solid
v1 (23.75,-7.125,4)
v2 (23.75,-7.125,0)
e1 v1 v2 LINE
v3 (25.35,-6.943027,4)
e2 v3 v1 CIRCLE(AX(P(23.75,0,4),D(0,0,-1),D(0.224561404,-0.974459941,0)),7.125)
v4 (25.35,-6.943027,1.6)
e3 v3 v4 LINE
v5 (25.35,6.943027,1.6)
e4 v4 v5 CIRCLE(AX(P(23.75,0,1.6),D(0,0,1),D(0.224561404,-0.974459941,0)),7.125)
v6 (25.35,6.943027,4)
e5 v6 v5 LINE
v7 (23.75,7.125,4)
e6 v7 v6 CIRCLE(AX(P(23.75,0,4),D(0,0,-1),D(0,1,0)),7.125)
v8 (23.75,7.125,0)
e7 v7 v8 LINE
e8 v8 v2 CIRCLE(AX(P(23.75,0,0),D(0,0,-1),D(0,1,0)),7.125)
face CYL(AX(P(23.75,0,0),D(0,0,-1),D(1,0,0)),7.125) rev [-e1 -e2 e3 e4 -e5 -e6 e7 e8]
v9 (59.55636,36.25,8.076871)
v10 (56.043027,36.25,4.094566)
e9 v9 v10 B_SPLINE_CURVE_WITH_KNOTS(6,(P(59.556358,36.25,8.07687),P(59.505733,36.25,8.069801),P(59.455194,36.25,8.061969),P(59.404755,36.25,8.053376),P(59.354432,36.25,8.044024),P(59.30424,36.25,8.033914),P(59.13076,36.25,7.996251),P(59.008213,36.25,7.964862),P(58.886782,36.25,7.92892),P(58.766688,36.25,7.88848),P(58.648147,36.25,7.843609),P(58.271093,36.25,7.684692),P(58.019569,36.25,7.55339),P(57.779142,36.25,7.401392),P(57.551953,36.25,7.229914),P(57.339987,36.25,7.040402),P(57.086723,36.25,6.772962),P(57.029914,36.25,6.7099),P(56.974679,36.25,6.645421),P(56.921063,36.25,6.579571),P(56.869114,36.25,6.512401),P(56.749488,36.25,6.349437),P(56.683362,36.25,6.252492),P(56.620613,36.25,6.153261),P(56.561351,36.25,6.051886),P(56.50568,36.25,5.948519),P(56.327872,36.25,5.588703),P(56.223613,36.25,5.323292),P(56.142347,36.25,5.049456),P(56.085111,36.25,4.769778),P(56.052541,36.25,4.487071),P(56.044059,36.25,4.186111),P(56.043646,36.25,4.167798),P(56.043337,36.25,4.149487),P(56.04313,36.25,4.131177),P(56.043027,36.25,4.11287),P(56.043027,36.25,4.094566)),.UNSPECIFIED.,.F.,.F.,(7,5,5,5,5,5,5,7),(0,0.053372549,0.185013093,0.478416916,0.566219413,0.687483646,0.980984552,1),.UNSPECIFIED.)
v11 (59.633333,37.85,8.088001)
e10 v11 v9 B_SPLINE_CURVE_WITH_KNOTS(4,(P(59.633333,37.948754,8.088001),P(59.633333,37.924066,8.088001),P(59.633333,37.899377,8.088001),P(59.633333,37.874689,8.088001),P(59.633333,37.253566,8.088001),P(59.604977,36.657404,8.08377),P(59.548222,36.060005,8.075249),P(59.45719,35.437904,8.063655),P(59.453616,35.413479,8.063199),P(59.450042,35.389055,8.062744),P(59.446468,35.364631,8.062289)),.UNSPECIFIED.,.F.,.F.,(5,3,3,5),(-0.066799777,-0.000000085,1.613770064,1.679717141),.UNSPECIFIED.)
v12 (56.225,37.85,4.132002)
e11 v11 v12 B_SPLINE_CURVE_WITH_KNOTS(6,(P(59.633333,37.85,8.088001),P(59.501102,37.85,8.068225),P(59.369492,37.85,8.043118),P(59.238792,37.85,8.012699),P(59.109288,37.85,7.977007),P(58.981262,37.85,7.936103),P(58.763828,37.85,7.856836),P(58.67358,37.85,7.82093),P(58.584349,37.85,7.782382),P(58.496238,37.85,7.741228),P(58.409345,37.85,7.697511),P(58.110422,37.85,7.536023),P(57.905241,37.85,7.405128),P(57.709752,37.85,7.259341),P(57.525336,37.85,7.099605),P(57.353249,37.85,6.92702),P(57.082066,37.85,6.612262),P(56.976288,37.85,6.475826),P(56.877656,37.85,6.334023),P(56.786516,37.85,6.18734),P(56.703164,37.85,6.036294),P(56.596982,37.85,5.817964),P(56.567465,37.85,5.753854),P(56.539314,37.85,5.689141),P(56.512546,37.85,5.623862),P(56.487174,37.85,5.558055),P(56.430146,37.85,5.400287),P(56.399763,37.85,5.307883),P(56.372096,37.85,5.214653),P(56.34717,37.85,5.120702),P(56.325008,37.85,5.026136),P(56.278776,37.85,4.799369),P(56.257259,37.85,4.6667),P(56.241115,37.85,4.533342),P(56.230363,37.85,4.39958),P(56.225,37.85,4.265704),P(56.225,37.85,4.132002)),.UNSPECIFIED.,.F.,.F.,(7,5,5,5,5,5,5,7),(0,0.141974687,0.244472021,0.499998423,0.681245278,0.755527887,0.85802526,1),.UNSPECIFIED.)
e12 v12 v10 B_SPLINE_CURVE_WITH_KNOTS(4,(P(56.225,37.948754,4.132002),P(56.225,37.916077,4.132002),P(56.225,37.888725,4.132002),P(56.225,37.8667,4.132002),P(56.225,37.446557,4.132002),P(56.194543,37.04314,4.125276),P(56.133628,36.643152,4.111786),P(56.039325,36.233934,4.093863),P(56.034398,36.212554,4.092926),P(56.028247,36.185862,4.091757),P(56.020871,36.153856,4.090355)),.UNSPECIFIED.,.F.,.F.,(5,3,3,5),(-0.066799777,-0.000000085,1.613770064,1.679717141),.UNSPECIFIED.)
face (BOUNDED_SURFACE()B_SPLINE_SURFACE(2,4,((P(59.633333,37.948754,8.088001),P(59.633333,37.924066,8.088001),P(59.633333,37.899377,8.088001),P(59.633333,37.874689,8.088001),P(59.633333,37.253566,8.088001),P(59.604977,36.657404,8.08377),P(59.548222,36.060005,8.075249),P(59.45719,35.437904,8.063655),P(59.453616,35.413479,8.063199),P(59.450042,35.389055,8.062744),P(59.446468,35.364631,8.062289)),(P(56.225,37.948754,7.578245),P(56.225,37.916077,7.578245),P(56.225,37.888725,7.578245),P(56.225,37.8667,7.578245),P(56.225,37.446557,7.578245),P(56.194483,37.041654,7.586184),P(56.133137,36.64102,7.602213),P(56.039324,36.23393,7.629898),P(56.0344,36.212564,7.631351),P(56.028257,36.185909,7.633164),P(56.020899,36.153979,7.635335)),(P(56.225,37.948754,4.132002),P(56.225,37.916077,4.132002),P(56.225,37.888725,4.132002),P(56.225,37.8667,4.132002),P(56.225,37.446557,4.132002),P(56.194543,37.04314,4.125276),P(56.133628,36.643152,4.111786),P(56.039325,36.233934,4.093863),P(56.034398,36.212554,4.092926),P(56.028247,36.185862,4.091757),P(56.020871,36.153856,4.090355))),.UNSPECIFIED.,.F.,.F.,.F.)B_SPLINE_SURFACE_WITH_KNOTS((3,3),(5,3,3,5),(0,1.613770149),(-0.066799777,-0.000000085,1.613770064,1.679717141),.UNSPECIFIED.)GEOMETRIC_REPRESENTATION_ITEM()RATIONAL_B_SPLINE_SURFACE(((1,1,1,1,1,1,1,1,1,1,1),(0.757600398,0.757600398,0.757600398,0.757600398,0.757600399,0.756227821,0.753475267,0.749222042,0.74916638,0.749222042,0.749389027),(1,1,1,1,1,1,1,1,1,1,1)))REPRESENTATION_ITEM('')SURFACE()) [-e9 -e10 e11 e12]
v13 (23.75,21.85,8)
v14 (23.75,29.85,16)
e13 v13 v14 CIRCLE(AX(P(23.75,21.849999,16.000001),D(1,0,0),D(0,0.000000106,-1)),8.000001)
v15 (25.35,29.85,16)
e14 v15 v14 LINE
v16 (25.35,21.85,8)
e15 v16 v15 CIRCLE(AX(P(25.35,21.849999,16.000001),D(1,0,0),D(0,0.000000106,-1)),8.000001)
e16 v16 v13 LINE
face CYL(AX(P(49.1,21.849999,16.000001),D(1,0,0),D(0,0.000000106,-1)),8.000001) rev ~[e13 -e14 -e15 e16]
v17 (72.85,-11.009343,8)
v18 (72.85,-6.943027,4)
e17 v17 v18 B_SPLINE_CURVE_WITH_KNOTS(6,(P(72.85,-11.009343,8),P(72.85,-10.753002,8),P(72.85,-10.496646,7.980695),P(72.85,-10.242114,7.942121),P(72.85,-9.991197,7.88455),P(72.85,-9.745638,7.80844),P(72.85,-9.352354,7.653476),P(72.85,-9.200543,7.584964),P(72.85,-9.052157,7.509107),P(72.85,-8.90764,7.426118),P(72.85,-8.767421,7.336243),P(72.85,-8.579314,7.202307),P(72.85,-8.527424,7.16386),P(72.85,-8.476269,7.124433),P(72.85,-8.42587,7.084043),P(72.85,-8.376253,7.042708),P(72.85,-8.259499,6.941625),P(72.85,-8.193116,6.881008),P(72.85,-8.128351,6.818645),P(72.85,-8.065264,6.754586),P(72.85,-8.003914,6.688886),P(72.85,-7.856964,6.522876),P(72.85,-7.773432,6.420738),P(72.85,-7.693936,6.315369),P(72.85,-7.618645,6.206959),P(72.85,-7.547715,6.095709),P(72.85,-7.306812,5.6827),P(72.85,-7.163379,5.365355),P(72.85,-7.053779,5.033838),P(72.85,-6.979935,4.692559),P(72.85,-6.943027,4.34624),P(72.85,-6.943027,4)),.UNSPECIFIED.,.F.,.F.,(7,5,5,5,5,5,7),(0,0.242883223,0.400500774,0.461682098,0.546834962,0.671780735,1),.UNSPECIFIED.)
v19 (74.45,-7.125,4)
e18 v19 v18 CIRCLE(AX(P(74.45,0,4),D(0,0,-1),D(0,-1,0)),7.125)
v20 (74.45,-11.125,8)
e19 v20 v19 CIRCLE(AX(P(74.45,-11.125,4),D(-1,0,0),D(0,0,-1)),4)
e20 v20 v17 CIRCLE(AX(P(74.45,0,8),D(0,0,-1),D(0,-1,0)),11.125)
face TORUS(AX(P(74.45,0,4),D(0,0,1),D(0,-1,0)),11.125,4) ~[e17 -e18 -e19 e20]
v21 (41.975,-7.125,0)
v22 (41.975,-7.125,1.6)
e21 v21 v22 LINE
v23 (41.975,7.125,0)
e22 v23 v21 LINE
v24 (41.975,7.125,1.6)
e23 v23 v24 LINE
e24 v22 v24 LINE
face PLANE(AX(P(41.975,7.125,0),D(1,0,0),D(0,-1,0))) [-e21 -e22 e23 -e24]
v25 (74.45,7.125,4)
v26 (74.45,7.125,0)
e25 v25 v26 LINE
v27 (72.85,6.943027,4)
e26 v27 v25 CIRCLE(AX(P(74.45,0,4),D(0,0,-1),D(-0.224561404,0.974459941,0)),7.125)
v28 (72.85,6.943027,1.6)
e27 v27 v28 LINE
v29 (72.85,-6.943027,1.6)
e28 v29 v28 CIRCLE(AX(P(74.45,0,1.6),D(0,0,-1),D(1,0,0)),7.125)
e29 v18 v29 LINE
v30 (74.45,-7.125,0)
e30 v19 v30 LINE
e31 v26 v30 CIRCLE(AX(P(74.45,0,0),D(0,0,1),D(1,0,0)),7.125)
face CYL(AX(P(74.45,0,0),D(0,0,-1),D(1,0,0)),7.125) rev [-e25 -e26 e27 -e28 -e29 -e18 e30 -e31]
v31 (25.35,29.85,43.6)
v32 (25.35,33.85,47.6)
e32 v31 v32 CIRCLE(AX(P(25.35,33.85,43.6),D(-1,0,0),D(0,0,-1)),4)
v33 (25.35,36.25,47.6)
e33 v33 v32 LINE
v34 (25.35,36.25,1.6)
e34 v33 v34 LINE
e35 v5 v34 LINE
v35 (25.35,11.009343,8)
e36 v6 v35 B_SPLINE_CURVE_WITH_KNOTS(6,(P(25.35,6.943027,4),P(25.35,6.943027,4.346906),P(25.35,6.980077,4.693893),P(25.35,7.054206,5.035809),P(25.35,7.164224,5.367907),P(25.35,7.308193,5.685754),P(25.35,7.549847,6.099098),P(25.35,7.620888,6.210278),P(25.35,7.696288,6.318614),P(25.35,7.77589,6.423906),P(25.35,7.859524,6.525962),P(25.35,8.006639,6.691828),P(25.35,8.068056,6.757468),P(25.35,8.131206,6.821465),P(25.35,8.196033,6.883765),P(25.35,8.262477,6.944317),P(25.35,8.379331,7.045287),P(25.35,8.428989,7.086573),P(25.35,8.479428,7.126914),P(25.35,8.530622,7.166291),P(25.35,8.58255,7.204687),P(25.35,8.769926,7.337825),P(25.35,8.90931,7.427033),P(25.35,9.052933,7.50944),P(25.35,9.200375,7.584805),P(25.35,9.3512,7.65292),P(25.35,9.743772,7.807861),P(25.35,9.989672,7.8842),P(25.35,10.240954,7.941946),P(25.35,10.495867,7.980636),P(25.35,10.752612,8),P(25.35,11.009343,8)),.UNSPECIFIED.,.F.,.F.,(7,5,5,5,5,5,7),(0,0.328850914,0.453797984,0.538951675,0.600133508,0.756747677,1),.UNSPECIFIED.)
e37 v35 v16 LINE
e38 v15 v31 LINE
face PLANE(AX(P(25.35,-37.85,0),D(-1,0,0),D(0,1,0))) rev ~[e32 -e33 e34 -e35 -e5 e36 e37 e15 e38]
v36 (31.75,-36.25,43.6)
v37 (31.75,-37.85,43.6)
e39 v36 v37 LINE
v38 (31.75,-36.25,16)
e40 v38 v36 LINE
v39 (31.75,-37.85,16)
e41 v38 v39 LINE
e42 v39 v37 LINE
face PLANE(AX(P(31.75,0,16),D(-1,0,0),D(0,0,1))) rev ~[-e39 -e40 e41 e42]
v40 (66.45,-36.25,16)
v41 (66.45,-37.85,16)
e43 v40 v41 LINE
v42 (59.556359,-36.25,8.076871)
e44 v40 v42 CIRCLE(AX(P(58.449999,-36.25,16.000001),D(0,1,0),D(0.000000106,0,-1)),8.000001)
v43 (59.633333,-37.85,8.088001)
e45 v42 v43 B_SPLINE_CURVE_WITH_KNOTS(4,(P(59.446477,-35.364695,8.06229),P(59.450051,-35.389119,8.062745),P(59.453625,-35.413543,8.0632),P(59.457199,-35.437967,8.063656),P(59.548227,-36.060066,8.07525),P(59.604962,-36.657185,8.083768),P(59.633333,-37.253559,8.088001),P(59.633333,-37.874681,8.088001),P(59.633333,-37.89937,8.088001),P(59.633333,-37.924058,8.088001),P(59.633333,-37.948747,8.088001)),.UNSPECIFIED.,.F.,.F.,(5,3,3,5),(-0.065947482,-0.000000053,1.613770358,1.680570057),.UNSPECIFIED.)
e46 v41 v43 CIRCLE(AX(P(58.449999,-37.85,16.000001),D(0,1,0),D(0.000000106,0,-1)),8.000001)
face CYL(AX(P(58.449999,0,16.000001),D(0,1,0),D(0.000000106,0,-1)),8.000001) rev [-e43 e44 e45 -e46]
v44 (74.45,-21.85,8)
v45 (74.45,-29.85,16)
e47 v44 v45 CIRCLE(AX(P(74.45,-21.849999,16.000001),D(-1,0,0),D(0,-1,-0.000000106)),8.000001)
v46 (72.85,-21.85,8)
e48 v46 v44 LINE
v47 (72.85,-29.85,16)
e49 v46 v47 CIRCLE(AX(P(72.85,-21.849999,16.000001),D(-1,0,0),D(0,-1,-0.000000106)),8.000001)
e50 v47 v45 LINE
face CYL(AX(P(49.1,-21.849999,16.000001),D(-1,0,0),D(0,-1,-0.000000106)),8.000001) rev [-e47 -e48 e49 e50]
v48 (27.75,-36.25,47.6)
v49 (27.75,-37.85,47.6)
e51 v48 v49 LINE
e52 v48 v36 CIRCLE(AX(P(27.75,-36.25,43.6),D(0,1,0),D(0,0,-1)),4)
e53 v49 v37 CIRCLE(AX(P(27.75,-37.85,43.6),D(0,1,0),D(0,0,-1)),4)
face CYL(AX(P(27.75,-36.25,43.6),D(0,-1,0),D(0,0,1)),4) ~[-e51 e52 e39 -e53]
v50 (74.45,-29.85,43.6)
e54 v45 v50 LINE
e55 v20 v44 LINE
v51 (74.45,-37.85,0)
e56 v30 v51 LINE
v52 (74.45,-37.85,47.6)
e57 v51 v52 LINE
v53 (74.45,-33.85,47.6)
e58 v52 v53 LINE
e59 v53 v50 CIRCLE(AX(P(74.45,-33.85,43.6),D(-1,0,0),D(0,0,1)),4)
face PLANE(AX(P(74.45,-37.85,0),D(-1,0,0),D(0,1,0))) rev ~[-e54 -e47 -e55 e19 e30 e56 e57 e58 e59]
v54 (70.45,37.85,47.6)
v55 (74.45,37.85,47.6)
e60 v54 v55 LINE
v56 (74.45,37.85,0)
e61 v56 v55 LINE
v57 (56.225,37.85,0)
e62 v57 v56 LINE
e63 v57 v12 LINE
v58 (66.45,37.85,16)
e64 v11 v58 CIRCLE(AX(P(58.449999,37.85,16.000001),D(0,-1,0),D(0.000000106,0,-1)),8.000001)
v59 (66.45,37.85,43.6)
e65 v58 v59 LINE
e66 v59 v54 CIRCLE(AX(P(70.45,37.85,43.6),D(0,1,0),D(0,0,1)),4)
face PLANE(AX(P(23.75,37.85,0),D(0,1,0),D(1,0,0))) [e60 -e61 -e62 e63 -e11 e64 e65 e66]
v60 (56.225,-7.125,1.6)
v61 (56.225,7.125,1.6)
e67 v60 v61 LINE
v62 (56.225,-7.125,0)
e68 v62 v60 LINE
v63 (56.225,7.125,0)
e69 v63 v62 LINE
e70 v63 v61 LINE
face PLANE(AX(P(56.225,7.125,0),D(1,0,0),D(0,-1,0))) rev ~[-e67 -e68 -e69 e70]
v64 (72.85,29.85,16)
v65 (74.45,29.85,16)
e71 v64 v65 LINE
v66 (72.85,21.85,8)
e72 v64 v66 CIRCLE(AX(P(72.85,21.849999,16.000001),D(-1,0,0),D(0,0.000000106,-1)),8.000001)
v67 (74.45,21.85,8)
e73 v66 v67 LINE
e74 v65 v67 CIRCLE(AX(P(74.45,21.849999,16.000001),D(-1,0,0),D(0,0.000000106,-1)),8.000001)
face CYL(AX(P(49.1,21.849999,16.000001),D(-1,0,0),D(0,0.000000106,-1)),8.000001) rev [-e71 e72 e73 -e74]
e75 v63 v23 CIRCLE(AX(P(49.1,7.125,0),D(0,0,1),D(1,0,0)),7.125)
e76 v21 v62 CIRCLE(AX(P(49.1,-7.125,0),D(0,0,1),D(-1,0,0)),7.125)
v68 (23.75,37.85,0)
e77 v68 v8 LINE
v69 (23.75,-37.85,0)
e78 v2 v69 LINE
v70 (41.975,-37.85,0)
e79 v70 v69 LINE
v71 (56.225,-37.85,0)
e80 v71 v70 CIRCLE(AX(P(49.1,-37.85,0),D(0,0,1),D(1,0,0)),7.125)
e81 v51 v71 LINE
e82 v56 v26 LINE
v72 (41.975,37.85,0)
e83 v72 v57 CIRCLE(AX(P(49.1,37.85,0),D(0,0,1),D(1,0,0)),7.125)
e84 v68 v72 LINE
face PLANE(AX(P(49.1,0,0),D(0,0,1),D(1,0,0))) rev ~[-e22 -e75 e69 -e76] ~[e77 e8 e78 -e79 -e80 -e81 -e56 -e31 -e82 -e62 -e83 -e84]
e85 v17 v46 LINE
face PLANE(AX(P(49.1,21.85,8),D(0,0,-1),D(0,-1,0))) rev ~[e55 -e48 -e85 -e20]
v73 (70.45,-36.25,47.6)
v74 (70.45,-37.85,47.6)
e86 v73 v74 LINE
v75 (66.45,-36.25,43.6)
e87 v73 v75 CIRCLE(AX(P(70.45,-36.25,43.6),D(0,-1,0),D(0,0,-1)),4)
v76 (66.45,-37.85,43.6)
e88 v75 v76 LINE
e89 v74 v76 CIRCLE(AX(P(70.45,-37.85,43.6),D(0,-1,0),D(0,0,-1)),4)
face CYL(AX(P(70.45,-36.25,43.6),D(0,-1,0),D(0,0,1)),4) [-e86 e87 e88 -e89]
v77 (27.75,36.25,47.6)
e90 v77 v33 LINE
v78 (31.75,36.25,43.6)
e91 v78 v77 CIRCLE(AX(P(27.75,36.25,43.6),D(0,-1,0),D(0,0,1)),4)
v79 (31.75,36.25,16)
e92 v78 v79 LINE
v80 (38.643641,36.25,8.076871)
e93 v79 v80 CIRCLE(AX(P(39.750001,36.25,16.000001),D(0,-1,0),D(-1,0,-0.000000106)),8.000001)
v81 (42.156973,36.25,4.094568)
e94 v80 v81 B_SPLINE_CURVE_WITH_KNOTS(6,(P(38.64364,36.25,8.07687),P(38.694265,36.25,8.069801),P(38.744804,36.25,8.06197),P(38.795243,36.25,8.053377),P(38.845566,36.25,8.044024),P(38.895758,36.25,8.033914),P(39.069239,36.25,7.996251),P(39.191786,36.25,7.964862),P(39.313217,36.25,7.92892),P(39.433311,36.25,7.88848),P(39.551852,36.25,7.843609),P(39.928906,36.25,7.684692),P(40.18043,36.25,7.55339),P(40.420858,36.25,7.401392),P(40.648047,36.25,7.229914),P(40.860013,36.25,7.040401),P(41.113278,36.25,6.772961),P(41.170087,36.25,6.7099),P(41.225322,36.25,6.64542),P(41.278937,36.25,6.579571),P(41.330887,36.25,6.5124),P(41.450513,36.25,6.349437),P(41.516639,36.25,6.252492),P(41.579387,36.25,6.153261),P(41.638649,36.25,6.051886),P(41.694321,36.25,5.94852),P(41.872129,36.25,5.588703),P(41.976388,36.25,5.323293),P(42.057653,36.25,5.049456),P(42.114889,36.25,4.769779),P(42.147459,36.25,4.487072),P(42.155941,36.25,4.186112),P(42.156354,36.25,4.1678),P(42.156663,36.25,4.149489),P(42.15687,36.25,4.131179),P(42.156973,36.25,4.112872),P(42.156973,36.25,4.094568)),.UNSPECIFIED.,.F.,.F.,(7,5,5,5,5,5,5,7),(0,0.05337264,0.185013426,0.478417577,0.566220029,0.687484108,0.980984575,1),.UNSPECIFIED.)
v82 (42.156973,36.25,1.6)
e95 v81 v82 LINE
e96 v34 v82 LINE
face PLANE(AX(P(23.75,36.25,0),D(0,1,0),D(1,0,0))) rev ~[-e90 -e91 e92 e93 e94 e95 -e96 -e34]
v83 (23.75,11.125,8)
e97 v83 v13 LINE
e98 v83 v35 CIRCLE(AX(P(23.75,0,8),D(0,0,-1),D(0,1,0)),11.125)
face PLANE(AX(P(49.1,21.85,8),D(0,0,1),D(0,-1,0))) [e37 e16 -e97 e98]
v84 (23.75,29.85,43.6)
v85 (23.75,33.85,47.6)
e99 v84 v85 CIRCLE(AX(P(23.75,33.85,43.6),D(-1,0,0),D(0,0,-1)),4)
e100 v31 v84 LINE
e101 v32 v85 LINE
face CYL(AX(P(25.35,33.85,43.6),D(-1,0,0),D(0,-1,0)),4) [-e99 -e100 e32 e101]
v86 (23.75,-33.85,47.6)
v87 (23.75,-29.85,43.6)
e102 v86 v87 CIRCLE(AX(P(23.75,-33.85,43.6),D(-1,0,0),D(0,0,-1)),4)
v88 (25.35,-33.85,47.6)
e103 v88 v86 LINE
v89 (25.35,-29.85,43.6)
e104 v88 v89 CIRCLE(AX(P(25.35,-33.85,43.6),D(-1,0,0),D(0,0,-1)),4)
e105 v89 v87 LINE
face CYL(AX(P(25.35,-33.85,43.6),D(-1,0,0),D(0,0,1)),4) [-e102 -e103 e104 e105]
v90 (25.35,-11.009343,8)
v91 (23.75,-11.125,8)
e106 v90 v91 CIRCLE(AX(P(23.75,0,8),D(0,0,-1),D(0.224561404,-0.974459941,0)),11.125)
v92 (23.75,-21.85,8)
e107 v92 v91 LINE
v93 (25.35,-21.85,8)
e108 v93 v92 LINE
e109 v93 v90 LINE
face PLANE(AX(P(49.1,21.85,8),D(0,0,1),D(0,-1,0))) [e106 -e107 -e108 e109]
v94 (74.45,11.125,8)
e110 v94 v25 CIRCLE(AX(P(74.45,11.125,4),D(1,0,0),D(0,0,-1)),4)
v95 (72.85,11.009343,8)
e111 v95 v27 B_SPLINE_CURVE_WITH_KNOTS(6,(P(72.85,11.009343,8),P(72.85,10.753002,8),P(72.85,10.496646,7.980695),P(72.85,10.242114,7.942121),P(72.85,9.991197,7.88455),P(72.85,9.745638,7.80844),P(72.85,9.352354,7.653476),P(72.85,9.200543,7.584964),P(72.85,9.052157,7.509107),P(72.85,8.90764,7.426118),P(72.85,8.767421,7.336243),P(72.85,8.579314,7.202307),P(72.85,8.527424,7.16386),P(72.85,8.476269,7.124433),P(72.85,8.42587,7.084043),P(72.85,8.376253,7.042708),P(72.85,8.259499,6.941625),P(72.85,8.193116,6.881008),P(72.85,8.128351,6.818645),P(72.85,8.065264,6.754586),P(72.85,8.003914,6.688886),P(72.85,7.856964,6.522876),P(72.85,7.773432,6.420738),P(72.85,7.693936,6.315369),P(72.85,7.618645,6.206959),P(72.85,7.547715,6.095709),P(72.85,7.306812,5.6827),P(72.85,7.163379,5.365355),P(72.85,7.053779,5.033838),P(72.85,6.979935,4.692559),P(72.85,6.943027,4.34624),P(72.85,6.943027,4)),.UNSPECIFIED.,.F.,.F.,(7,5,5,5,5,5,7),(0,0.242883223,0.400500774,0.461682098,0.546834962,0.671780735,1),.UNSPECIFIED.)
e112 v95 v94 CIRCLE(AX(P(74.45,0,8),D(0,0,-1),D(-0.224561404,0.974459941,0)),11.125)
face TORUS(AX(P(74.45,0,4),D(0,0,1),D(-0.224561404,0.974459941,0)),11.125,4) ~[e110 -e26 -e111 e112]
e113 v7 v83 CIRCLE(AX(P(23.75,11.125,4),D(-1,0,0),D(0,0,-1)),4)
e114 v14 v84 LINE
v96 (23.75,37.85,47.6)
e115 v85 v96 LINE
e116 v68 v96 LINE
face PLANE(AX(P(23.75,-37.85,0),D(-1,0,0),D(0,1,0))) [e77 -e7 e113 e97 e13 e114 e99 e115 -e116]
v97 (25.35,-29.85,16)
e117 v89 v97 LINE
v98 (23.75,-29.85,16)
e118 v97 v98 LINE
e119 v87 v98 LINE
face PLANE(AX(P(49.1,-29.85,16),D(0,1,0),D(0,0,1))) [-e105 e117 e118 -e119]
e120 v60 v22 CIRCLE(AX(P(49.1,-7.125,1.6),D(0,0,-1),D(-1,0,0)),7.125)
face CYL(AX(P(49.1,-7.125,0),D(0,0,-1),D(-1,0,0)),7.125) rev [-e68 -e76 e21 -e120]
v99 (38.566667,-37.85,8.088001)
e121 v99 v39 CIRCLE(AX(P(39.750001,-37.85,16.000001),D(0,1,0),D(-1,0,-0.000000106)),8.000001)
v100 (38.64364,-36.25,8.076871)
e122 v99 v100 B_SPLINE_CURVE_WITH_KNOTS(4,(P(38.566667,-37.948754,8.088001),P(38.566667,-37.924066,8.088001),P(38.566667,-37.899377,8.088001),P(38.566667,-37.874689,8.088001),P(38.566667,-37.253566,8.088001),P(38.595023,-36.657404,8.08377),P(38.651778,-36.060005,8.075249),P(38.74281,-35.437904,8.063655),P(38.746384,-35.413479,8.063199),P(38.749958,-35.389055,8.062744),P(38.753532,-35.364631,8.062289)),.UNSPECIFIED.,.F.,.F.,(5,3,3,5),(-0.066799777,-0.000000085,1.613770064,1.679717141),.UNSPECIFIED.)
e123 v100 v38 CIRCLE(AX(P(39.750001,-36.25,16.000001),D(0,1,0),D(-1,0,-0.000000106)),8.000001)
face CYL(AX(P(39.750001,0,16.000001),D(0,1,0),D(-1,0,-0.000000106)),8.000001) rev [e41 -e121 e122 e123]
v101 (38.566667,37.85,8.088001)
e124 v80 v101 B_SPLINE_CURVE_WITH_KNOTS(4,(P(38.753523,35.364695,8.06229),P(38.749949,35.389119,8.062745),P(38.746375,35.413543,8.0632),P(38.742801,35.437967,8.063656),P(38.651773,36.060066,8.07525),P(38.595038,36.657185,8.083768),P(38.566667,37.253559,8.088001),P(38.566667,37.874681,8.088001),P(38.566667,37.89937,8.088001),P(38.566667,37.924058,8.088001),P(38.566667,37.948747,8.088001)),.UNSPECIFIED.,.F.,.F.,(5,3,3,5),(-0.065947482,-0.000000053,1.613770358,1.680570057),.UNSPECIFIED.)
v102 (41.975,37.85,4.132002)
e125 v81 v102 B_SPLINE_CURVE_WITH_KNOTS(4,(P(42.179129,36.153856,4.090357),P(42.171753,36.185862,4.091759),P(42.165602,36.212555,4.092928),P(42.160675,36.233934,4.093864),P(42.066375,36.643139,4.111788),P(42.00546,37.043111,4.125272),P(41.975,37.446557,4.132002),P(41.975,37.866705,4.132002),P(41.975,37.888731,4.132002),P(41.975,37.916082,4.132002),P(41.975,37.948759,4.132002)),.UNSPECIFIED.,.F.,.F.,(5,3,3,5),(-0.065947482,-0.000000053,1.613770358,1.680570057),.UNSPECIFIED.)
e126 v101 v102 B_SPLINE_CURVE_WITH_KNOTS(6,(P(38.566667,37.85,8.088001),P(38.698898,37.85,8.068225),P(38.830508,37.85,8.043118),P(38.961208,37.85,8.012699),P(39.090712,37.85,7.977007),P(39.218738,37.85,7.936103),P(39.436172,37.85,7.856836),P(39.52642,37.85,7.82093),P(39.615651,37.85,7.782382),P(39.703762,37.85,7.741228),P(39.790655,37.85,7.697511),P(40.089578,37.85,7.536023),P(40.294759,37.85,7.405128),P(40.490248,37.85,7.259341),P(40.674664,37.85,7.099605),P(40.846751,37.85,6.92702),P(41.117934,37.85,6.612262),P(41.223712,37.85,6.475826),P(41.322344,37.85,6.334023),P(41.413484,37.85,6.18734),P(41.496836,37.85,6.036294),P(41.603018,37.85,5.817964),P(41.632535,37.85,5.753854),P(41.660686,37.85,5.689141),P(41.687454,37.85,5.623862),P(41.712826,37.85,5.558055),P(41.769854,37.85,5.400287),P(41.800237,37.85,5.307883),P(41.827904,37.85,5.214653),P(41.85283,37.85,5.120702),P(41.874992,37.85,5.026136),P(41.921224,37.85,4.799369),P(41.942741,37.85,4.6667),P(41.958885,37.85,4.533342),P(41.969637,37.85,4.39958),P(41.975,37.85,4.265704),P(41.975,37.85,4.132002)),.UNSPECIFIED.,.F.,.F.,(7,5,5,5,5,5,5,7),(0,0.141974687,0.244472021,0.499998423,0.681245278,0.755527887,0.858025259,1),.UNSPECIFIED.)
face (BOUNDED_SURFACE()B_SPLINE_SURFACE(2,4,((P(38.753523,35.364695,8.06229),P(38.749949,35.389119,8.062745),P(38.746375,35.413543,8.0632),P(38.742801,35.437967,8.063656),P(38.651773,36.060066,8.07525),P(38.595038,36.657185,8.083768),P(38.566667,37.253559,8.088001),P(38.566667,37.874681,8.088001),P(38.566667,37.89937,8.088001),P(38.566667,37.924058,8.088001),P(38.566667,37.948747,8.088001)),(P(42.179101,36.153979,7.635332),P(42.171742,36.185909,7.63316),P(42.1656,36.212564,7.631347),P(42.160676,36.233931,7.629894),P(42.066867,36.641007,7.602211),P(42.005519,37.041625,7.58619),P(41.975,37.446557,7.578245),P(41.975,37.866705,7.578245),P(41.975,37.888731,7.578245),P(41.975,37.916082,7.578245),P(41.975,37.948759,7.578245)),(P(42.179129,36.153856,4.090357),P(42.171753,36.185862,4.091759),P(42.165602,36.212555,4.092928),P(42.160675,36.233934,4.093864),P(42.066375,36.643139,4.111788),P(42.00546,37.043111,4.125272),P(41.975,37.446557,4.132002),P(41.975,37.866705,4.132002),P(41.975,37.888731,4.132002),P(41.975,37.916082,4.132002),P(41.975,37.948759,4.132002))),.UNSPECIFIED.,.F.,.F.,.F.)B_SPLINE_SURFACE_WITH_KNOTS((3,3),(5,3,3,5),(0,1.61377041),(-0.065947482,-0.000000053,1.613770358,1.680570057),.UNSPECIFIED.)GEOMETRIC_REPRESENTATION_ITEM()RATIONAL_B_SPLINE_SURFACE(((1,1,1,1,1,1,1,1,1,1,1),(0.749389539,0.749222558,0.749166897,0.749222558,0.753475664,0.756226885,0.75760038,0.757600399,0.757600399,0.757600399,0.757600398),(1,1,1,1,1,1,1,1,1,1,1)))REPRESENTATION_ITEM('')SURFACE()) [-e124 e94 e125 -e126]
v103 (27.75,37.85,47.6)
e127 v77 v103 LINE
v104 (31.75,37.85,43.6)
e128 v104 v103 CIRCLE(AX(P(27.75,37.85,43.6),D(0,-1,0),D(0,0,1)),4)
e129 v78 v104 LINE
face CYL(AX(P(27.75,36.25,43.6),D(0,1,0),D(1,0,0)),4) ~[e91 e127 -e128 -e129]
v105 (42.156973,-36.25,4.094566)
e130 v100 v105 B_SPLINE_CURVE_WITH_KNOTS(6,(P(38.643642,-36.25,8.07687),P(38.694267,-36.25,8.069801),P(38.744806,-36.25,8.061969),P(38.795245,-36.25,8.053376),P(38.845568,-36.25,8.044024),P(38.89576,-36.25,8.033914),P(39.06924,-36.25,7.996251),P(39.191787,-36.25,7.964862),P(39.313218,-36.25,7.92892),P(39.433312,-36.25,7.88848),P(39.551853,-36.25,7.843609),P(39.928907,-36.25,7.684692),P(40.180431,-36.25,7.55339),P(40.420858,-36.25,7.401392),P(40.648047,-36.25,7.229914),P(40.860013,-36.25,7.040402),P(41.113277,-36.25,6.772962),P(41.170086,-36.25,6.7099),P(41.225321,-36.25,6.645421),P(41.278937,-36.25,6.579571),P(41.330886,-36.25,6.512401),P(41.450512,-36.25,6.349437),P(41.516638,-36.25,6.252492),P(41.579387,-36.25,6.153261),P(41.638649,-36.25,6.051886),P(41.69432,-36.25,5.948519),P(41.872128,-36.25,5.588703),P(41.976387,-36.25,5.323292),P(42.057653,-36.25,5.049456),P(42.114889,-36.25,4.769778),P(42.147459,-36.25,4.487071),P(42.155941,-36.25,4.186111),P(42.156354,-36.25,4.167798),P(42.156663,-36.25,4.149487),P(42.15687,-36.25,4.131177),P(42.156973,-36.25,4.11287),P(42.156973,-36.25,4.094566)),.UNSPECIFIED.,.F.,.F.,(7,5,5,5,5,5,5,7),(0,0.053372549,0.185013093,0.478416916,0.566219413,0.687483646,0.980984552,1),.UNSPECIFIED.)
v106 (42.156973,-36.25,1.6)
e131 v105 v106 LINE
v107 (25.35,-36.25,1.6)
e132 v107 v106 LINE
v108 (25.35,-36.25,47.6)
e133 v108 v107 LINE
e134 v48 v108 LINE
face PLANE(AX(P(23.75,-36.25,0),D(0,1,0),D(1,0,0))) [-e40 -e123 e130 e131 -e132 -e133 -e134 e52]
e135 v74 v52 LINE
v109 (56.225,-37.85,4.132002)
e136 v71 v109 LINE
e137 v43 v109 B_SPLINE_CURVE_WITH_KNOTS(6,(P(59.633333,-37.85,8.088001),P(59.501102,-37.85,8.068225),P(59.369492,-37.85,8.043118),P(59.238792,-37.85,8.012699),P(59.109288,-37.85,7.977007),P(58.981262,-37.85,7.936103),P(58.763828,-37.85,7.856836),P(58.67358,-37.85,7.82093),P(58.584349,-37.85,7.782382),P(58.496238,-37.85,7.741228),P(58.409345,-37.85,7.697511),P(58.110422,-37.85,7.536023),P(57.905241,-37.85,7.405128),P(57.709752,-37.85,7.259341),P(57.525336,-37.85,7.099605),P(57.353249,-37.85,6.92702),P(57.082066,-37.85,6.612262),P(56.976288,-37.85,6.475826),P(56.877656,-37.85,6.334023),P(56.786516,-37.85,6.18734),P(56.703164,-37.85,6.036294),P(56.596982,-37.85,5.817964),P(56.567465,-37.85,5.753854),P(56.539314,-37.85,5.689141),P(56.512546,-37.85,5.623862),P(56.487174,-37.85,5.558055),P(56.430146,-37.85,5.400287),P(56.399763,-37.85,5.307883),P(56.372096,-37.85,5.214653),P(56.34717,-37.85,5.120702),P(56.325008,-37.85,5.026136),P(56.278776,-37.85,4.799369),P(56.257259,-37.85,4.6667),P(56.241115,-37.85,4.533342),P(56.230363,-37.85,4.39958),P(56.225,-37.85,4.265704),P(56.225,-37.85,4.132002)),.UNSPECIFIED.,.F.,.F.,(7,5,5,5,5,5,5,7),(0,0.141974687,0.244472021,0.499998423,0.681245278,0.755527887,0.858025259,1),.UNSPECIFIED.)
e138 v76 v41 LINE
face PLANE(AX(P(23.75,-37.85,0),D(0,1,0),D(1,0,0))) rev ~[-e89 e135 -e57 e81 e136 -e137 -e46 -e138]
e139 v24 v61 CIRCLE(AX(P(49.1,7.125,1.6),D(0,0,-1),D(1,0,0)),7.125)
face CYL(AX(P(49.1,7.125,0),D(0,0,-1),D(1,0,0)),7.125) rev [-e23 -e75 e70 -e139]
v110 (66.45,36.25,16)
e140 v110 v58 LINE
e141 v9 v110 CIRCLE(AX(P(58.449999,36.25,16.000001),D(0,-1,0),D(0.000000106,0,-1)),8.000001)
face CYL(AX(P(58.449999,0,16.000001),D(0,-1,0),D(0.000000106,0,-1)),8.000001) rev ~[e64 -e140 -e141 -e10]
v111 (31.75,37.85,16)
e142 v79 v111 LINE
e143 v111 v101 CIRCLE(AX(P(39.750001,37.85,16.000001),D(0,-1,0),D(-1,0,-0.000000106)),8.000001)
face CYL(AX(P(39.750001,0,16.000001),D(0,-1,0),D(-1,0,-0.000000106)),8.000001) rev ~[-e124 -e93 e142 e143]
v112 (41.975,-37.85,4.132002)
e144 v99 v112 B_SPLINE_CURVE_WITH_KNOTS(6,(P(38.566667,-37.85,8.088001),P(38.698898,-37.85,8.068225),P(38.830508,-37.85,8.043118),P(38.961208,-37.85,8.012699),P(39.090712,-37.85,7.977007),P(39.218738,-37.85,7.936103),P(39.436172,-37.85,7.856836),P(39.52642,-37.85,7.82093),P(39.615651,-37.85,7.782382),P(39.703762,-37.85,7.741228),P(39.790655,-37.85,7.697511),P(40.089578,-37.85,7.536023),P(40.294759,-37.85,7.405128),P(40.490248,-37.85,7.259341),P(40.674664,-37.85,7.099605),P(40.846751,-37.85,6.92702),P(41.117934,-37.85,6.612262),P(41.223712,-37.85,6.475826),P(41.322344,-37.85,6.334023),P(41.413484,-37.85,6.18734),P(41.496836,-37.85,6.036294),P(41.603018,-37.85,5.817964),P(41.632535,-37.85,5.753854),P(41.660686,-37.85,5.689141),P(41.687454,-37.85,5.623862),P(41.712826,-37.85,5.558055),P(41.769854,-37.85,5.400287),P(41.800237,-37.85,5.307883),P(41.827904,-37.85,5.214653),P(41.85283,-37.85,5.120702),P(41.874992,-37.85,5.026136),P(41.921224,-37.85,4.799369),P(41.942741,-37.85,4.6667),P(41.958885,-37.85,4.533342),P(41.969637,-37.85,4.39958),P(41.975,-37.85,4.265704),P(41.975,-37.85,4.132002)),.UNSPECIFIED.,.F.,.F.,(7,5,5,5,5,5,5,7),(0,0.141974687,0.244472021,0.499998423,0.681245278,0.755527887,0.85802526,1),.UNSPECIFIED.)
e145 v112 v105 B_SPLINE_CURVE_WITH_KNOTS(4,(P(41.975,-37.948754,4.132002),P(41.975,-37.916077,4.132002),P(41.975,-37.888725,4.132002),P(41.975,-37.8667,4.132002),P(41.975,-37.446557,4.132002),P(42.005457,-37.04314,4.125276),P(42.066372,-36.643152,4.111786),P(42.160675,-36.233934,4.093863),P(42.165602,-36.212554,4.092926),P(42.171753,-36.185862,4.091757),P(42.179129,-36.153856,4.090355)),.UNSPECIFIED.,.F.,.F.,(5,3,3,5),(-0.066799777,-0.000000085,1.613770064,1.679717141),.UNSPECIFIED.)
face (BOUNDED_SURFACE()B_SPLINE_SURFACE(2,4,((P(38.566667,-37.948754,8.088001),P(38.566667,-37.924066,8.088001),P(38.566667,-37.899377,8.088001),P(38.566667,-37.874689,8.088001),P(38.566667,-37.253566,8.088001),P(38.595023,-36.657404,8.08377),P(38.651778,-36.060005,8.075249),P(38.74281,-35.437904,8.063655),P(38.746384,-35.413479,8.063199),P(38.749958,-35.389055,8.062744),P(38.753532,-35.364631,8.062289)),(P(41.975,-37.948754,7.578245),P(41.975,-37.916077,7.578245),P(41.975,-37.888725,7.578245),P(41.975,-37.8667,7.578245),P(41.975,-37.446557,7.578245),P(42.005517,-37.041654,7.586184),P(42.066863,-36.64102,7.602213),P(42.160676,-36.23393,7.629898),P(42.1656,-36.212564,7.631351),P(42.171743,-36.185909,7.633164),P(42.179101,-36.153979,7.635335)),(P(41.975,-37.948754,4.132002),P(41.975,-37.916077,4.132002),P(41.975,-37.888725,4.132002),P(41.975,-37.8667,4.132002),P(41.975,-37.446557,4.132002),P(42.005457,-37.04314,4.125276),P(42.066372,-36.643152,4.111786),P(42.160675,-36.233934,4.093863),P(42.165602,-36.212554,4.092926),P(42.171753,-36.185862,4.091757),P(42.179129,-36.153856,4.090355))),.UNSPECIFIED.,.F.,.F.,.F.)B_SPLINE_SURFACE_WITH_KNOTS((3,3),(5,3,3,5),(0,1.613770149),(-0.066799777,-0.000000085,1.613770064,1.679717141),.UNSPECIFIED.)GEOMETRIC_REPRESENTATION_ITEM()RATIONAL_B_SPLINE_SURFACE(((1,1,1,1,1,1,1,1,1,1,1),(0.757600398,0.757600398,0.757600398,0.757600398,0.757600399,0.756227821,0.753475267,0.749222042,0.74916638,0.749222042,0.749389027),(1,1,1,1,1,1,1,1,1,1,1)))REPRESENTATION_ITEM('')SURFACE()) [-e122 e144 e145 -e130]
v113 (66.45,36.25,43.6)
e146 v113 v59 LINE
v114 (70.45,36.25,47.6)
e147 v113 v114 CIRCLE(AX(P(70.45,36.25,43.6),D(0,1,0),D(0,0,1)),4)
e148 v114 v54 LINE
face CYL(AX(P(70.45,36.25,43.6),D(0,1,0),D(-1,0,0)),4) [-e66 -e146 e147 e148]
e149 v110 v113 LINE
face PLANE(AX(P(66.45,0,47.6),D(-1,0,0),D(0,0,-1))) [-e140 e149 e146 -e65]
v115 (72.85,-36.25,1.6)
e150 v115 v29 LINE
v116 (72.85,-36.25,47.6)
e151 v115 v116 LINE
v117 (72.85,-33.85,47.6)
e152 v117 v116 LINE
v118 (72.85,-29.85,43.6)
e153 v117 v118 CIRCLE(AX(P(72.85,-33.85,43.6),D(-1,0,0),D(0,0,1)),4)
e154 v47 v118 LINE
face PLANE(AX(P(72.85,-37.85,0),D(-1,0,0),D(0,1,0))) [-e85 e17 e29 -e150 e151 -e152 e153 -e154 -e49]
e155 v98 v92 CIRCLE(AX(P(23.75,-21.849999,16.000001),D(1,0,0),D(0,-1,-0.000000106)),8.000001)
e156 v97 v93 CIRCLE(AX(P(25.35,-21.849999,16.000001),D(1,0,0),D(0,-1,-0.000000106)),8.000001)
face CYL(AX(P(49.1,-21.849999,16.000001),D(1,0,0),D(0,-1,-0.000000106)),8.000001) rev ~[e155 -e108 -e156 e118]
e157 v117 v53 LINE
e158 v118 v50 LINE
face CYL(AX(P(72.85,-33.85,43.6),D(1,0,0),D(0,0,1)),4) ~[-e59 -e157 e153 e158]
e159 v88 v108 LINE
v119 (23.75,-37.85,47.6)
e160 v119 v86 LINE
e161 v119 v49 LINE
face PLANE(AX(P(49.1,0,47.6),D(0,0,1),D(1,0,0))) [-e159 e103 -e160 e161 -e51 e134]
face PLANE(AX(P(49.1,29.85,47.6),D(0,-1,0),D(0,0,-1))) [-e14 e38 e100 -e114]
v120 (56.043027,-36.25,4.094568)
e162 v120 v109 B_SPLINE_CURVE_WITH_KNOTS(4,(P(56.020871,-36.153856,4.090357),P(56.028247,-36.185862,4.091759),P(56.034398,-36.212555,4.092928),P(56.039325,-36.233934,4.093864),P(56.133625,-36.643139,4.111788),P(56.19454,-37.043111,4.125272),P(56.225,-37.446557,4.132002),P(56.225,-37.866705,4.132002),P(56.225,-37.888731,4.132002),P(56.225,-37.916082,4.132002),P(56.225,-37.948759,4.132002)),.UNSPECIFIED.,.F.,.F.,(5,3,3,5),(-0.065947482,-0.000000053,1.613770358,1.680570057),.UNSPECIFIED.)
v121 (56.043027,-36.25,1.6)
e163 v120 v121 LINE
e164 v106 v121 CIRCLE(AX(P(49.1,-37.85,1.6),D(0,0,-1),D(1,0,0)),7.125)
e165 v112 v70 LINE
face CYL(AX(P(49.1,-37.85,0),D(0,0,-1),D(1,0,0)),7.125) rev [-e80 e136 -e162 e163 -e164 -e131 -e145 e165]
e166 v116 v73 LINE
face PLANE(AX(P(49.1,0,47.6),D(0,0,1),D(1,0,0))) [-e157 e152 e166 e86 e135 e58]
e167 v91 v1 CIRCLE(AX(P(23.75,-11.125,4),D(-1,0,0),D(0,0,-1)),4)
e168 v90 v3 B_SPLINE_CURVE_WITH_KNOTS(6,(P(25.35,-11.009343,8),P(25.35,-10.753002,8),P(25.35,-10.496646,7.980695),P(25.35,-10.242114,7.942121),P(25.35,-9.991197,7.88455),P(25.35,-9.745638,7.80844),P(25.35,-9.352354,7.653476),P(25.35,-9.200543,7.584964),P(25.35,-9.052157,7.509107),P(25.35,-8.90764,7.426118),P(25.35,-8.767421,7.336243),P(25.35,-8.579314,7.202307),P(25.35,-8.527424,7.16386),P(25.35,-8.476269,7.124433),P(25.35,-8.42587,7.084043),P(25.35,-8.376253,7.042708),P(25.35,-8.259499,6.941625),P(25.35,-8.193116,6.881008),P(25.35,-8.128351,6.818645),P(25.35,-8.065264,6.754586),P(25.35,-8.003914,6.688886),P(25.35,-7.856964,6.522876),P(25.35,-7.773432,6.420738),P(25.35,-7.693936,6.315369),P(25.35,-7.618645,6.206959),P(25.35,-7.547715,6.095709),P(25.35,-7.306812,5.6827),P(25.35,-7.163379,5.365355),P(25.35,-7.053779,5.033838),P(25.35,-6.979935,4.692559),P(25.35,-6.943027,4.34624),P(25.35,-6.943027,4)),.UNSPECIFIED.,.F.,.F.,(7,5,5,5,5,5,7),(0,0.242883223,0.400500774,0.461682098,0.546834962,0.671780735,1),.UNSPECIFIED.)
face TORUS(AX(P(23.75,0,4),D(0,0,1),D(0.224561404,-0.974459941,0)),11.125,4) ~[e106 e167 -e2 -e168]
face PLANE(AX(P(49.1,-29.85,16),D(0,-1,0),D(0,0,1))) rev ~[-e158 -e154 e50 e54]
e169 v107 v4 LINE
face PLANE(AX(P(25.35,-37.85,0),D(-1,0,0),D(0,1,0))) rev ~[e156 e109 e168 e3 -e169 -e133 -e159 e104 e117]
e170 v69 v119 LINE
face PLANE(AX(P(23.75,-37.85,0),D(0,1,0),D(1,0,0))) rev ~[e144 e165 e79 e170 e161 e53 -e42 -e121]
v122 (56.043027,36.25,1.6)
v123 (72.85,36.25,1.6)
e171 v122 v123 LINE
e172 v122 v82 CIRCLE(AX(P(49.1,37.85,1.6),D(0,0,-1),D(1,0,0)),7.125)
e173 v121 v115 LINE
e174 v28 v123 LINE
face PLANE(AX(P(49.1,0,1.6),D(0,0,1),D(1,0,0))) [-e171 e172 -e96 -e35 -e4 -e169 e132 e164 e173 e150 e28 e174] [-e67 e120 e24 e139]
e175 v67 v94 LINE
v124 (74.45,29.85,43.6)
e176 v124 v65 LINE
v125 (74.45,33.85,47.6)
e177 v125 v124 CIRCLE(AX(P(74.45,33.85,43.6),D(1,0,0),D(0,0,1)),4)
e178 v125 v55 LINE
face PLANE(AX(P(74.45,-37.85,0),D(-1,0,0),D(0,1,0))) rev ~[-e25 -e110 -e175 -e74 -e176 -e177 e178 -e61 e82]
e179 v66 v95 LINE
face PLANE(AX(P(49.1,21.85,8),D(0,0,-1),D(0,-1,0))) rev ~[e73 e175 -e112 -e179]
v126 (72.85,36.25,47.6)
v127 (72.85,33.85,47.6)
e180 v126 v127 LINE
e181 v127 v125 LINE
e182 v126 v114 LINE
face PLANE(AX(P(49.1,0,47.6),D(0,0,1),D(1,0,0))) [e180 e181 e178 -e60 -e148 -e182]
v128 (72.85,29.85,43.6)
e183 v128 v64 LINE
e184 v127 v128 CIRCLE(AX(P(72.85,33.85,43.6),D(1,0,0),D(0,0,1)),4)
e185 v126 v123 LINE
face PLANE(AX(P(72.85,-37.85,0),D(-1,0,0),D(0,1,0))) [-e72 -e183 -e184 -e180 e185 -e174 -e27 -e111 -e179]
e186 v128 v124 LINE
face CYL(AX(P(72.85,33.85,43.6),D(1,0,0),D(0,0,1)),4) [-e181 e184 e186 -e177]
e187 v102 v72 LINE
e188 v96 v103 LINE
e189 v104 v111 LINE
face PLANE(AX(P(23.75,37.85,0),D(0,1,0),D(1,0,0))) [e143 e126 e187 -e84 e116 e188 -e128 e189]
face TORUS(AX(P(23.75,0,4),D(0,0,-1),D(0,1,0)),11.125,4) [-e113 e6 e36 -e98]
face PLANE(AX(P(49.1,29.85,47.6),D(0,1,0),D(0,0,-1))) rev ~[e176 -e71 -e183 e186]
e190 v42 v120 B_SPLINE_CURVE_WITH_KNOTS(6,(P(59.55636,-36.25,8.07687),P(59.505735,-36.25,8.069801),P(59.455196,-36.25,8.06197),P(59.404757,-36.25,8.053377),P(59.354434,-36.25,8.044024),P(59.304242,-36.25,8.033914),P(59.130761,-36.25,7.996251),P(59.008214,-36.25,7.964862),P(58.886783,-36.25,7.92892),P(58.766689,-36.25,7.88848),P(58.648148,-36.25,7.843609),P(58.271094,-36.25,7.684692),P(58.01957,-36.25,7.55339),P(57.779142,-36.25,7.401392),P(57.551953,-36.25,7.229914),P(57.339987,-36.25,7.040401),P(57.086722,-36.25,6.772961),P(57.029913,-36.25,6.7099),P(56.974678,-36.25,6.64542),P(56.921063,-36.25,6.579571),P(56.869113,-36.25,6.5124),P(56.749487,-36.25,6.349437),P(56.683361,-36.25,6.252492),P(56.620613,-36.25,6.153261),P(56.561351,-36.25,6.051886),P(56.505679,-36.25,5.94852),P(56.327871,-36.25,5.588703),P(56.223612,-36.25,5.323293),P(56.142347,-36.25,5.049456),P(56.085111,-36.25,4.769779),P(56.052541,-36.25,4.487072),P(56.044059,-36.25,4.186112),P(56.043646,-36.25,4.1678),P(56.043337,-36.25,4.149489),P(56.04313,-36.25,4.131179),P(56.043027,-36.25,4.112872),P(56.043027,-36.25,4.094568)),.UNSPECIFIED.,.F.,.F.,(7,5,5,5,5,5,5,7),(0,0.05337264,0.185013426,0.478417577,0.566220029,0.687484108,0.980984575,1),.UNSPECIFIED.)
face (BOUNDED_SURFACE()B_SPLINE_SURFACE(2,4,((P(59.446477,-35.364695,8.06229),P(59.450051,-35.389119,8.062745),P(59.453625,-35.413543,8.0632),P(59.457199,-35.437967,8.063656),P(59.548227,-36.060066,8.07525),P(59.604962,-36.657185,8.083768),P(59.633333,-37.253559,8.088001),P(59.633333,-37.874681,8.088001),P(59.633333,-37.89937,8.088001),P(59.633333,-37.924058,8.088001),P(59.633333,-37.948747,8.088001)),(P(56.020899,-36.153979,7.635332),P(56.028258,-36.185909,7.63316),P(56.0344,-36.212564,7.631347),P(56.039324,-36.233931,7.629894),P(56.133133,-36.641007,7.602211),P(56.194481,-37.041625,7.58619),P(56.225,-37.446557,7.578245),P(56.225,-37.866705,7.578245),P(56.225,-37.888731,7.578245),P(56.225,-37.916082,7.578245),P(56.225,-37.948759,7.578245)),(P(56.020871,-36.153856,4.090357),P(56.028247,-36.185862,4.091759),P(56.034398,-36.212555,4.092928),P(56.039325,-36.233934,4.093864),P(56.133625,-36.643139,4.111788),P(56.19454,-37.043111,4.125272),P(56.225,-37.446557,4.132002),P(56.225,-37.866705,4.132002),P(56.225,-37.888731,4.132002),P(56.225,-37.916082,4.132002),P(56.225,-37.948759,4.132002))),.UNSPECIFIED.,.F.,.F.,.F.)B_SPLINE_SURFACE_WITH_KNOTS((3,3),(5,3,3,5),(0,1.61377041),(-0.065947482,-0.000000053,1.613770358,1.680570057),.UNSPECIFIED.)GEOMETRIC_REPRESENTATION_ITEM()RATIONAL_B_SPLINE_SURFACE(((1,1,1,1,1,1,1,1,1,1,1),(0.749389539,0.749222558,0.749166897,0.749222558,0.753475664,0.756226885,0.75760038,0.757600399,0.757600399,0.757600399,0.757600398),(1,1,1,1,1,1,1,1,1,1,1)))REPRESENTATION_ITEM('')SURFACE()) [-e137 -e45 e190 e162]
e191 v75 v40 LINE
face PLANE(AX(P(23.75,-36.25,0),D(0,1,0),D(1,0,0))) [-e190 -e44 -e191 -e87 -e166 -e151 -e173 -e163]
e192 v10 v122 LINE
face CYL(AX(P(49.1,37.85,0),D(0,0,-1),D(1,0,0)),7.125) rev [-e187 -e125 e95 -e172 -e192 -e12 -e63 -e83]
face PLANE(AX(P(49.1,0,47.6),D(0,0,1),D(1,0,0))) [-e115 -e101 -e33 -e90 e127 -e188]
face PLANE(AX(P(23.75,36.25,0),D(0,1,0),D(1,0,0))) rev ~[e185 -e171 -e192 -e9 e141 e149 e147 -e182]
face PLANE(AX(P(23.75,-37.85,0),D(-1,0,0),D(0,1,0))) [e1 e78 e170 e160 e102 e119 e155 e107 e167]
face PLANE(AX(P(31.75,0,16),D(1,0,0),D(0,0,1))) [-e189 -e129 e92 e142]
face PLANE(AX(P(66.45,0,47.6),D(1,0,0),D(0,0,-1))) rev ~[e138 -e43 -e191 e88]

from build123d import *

# Parameters (mm, degrees)
SKETCH042_W          = 50.7
SKETCH042_H          = 75.7
PAD018_DEPTH         = 47.6
THICKNESS018_T       = -1.6
POCKET022_DEPTH      = 37.851
POCKET022_DEPTH_BACK = 37.851
POCKET021_DEPTH      = 25.351
POCKET021_DEPTH_BACK = 25.351
SKETCH040_R          = 7.125
POCKET023_DEPTH      = 0.001
POCKET023_DEPTH_BACK = 47.601
FILLET004_R          = 4


with BuildPart() as part:
    # Sketch042 → Pad018 (new body)
    with BuildSketch(Plane.XY):
        Rectangle(SKETCH042_W, SKETCH042_H)
    extrude(amount=PAD018_DEPTH)

    # Thickness018
    thickness018_openings = [part.faces().sort_by_distance(p)[0] for p in [
        (0, 0, 47.6),
    ]]
    offset(amount=THICKNESS018_T, openings=thickness018_openings, kind=Kind.INTERSECTION)

    # Sketch041 → Pocket022 (cut, two sides)
    with BuildSketch(Plane.XZ) as pocket022_sk:
        with BuildLine():
            Line((-17.35, 47.6), (17.35, 47.6))
            Line((17.35, 47.6), (17.35, 16))
            ThreePointArc((9.35, 8), (15.006854, 10.343146), (17.35, 16))
            Line((9.35, 8), (-9.35, 8))
            ThreePointArc((-17.35, 16), (-15.006854, 10.343146), (-9.35, 8))
            Line((-17.35, 16), (-17.35, 47.6))
        make_face()
    extrude(amount=-POCKET022_DEPTH, mode=Mode.SUBTRACT)
    extrude(pocket022_sk.sketch, amount=POCKET022_DEPTH_BACK, mode=Mode.SUBTRACT)

    # Sketch039 → Pocket021 (cut, two sides)
    with BuildSketch(Plane.YZ) as pocket021_sk:
        with BuildLine():
            Line((-29.85, 47.6), (29.85, 47.6))
            Line((29.85, 47.6), (29.85, 16))
            ThreePointArc((21.85, 8), (27.506854, 10.343146), (29.85, 16))
            Line((21.85, 8), (-21.85, 8))
            ThreePointArc((-29.85, 16), (-27.506854, 10.343146), (-21.85, 8))
            Line((-29.85, 16), (-29.85, 47.6))
        make_face()
    extrude(amount=-POCKET021_DEPTH, mode=Mode.SUBTRACT)
    extrude(pocket021_sk.sketch, amount=POCKET021_DEPTH_BACK, mode=Mode.SUBTRACT)

    # Sketch040 → Pocket023 (cut, two sides)
    with BuildSketch(Plane.XY) as pocket023_sk:
        with Locations((0, 37.85)):
            Circle(SKETCH040_R)
        with Locations((0, -37.85)):
            Circle(SKETCH040_R)
        with Locations((25.35, 0)):
            Circle(SKETCH040_R)
        with Locations((-25.35, 0)):
            Circle(SKETCH040_R)
        with BuildLine():
            ThreePointArc((7.125, 7.125), (0, 14.25), (-7.125, 7.125))
            Line((-7.125, 7.125), (-7.125, -7.125))
            ThreePointArc((-7.125, -7.125), (0, -14.25), (7.125, -7.125))
            Line((7.125, 7.125), (7.125, -7.125))
        make_face()
    extrude(amount=-POCKET023_DEPTH, mode=Mode.SUBTRACT)
    extrude(pocket023_sk.sketch, amount=POCKET023_DEPTH_BACK, mode=Mode.SUBTRACT)

    # Fillet004
    fillet004_edges = [part.edges().sort_by_distance(p)[0] for p in [
        (24.544843, -7.079361, 8),
        (24.544843, 7.079361, 8),
        (24.55, 29.85, 47.6),
        (17.35, 37.05, 47.6),
        (7.079361, 37.044843, 8),
        (-7.079361, 37.044843, 8),
        (-17.35, 37.05, 47.6),
        (-24.55, 29.85, 47.6),
        (-24.544843, 7.079361, 8),
        (-24.544843, -7.079361, 8),
        (-24.55, -29.85, 47.6),
        (-17.35, -37.05, 47.6),
        (-7.079361, -37.044843, 8),
        (7.079361, -37.044843, 8),
        (17.35, -37.05, 47.6),
        (24.55, -29.85, 47.6),
    ]]
    fillet(fillet004_edges, radius=FILLET004_R)


with BuildPart() as part_1:
    # Body018 placement: moved
    add(part.part.moved(Location((49.1, 0, 0))))


solid = part_1.part
